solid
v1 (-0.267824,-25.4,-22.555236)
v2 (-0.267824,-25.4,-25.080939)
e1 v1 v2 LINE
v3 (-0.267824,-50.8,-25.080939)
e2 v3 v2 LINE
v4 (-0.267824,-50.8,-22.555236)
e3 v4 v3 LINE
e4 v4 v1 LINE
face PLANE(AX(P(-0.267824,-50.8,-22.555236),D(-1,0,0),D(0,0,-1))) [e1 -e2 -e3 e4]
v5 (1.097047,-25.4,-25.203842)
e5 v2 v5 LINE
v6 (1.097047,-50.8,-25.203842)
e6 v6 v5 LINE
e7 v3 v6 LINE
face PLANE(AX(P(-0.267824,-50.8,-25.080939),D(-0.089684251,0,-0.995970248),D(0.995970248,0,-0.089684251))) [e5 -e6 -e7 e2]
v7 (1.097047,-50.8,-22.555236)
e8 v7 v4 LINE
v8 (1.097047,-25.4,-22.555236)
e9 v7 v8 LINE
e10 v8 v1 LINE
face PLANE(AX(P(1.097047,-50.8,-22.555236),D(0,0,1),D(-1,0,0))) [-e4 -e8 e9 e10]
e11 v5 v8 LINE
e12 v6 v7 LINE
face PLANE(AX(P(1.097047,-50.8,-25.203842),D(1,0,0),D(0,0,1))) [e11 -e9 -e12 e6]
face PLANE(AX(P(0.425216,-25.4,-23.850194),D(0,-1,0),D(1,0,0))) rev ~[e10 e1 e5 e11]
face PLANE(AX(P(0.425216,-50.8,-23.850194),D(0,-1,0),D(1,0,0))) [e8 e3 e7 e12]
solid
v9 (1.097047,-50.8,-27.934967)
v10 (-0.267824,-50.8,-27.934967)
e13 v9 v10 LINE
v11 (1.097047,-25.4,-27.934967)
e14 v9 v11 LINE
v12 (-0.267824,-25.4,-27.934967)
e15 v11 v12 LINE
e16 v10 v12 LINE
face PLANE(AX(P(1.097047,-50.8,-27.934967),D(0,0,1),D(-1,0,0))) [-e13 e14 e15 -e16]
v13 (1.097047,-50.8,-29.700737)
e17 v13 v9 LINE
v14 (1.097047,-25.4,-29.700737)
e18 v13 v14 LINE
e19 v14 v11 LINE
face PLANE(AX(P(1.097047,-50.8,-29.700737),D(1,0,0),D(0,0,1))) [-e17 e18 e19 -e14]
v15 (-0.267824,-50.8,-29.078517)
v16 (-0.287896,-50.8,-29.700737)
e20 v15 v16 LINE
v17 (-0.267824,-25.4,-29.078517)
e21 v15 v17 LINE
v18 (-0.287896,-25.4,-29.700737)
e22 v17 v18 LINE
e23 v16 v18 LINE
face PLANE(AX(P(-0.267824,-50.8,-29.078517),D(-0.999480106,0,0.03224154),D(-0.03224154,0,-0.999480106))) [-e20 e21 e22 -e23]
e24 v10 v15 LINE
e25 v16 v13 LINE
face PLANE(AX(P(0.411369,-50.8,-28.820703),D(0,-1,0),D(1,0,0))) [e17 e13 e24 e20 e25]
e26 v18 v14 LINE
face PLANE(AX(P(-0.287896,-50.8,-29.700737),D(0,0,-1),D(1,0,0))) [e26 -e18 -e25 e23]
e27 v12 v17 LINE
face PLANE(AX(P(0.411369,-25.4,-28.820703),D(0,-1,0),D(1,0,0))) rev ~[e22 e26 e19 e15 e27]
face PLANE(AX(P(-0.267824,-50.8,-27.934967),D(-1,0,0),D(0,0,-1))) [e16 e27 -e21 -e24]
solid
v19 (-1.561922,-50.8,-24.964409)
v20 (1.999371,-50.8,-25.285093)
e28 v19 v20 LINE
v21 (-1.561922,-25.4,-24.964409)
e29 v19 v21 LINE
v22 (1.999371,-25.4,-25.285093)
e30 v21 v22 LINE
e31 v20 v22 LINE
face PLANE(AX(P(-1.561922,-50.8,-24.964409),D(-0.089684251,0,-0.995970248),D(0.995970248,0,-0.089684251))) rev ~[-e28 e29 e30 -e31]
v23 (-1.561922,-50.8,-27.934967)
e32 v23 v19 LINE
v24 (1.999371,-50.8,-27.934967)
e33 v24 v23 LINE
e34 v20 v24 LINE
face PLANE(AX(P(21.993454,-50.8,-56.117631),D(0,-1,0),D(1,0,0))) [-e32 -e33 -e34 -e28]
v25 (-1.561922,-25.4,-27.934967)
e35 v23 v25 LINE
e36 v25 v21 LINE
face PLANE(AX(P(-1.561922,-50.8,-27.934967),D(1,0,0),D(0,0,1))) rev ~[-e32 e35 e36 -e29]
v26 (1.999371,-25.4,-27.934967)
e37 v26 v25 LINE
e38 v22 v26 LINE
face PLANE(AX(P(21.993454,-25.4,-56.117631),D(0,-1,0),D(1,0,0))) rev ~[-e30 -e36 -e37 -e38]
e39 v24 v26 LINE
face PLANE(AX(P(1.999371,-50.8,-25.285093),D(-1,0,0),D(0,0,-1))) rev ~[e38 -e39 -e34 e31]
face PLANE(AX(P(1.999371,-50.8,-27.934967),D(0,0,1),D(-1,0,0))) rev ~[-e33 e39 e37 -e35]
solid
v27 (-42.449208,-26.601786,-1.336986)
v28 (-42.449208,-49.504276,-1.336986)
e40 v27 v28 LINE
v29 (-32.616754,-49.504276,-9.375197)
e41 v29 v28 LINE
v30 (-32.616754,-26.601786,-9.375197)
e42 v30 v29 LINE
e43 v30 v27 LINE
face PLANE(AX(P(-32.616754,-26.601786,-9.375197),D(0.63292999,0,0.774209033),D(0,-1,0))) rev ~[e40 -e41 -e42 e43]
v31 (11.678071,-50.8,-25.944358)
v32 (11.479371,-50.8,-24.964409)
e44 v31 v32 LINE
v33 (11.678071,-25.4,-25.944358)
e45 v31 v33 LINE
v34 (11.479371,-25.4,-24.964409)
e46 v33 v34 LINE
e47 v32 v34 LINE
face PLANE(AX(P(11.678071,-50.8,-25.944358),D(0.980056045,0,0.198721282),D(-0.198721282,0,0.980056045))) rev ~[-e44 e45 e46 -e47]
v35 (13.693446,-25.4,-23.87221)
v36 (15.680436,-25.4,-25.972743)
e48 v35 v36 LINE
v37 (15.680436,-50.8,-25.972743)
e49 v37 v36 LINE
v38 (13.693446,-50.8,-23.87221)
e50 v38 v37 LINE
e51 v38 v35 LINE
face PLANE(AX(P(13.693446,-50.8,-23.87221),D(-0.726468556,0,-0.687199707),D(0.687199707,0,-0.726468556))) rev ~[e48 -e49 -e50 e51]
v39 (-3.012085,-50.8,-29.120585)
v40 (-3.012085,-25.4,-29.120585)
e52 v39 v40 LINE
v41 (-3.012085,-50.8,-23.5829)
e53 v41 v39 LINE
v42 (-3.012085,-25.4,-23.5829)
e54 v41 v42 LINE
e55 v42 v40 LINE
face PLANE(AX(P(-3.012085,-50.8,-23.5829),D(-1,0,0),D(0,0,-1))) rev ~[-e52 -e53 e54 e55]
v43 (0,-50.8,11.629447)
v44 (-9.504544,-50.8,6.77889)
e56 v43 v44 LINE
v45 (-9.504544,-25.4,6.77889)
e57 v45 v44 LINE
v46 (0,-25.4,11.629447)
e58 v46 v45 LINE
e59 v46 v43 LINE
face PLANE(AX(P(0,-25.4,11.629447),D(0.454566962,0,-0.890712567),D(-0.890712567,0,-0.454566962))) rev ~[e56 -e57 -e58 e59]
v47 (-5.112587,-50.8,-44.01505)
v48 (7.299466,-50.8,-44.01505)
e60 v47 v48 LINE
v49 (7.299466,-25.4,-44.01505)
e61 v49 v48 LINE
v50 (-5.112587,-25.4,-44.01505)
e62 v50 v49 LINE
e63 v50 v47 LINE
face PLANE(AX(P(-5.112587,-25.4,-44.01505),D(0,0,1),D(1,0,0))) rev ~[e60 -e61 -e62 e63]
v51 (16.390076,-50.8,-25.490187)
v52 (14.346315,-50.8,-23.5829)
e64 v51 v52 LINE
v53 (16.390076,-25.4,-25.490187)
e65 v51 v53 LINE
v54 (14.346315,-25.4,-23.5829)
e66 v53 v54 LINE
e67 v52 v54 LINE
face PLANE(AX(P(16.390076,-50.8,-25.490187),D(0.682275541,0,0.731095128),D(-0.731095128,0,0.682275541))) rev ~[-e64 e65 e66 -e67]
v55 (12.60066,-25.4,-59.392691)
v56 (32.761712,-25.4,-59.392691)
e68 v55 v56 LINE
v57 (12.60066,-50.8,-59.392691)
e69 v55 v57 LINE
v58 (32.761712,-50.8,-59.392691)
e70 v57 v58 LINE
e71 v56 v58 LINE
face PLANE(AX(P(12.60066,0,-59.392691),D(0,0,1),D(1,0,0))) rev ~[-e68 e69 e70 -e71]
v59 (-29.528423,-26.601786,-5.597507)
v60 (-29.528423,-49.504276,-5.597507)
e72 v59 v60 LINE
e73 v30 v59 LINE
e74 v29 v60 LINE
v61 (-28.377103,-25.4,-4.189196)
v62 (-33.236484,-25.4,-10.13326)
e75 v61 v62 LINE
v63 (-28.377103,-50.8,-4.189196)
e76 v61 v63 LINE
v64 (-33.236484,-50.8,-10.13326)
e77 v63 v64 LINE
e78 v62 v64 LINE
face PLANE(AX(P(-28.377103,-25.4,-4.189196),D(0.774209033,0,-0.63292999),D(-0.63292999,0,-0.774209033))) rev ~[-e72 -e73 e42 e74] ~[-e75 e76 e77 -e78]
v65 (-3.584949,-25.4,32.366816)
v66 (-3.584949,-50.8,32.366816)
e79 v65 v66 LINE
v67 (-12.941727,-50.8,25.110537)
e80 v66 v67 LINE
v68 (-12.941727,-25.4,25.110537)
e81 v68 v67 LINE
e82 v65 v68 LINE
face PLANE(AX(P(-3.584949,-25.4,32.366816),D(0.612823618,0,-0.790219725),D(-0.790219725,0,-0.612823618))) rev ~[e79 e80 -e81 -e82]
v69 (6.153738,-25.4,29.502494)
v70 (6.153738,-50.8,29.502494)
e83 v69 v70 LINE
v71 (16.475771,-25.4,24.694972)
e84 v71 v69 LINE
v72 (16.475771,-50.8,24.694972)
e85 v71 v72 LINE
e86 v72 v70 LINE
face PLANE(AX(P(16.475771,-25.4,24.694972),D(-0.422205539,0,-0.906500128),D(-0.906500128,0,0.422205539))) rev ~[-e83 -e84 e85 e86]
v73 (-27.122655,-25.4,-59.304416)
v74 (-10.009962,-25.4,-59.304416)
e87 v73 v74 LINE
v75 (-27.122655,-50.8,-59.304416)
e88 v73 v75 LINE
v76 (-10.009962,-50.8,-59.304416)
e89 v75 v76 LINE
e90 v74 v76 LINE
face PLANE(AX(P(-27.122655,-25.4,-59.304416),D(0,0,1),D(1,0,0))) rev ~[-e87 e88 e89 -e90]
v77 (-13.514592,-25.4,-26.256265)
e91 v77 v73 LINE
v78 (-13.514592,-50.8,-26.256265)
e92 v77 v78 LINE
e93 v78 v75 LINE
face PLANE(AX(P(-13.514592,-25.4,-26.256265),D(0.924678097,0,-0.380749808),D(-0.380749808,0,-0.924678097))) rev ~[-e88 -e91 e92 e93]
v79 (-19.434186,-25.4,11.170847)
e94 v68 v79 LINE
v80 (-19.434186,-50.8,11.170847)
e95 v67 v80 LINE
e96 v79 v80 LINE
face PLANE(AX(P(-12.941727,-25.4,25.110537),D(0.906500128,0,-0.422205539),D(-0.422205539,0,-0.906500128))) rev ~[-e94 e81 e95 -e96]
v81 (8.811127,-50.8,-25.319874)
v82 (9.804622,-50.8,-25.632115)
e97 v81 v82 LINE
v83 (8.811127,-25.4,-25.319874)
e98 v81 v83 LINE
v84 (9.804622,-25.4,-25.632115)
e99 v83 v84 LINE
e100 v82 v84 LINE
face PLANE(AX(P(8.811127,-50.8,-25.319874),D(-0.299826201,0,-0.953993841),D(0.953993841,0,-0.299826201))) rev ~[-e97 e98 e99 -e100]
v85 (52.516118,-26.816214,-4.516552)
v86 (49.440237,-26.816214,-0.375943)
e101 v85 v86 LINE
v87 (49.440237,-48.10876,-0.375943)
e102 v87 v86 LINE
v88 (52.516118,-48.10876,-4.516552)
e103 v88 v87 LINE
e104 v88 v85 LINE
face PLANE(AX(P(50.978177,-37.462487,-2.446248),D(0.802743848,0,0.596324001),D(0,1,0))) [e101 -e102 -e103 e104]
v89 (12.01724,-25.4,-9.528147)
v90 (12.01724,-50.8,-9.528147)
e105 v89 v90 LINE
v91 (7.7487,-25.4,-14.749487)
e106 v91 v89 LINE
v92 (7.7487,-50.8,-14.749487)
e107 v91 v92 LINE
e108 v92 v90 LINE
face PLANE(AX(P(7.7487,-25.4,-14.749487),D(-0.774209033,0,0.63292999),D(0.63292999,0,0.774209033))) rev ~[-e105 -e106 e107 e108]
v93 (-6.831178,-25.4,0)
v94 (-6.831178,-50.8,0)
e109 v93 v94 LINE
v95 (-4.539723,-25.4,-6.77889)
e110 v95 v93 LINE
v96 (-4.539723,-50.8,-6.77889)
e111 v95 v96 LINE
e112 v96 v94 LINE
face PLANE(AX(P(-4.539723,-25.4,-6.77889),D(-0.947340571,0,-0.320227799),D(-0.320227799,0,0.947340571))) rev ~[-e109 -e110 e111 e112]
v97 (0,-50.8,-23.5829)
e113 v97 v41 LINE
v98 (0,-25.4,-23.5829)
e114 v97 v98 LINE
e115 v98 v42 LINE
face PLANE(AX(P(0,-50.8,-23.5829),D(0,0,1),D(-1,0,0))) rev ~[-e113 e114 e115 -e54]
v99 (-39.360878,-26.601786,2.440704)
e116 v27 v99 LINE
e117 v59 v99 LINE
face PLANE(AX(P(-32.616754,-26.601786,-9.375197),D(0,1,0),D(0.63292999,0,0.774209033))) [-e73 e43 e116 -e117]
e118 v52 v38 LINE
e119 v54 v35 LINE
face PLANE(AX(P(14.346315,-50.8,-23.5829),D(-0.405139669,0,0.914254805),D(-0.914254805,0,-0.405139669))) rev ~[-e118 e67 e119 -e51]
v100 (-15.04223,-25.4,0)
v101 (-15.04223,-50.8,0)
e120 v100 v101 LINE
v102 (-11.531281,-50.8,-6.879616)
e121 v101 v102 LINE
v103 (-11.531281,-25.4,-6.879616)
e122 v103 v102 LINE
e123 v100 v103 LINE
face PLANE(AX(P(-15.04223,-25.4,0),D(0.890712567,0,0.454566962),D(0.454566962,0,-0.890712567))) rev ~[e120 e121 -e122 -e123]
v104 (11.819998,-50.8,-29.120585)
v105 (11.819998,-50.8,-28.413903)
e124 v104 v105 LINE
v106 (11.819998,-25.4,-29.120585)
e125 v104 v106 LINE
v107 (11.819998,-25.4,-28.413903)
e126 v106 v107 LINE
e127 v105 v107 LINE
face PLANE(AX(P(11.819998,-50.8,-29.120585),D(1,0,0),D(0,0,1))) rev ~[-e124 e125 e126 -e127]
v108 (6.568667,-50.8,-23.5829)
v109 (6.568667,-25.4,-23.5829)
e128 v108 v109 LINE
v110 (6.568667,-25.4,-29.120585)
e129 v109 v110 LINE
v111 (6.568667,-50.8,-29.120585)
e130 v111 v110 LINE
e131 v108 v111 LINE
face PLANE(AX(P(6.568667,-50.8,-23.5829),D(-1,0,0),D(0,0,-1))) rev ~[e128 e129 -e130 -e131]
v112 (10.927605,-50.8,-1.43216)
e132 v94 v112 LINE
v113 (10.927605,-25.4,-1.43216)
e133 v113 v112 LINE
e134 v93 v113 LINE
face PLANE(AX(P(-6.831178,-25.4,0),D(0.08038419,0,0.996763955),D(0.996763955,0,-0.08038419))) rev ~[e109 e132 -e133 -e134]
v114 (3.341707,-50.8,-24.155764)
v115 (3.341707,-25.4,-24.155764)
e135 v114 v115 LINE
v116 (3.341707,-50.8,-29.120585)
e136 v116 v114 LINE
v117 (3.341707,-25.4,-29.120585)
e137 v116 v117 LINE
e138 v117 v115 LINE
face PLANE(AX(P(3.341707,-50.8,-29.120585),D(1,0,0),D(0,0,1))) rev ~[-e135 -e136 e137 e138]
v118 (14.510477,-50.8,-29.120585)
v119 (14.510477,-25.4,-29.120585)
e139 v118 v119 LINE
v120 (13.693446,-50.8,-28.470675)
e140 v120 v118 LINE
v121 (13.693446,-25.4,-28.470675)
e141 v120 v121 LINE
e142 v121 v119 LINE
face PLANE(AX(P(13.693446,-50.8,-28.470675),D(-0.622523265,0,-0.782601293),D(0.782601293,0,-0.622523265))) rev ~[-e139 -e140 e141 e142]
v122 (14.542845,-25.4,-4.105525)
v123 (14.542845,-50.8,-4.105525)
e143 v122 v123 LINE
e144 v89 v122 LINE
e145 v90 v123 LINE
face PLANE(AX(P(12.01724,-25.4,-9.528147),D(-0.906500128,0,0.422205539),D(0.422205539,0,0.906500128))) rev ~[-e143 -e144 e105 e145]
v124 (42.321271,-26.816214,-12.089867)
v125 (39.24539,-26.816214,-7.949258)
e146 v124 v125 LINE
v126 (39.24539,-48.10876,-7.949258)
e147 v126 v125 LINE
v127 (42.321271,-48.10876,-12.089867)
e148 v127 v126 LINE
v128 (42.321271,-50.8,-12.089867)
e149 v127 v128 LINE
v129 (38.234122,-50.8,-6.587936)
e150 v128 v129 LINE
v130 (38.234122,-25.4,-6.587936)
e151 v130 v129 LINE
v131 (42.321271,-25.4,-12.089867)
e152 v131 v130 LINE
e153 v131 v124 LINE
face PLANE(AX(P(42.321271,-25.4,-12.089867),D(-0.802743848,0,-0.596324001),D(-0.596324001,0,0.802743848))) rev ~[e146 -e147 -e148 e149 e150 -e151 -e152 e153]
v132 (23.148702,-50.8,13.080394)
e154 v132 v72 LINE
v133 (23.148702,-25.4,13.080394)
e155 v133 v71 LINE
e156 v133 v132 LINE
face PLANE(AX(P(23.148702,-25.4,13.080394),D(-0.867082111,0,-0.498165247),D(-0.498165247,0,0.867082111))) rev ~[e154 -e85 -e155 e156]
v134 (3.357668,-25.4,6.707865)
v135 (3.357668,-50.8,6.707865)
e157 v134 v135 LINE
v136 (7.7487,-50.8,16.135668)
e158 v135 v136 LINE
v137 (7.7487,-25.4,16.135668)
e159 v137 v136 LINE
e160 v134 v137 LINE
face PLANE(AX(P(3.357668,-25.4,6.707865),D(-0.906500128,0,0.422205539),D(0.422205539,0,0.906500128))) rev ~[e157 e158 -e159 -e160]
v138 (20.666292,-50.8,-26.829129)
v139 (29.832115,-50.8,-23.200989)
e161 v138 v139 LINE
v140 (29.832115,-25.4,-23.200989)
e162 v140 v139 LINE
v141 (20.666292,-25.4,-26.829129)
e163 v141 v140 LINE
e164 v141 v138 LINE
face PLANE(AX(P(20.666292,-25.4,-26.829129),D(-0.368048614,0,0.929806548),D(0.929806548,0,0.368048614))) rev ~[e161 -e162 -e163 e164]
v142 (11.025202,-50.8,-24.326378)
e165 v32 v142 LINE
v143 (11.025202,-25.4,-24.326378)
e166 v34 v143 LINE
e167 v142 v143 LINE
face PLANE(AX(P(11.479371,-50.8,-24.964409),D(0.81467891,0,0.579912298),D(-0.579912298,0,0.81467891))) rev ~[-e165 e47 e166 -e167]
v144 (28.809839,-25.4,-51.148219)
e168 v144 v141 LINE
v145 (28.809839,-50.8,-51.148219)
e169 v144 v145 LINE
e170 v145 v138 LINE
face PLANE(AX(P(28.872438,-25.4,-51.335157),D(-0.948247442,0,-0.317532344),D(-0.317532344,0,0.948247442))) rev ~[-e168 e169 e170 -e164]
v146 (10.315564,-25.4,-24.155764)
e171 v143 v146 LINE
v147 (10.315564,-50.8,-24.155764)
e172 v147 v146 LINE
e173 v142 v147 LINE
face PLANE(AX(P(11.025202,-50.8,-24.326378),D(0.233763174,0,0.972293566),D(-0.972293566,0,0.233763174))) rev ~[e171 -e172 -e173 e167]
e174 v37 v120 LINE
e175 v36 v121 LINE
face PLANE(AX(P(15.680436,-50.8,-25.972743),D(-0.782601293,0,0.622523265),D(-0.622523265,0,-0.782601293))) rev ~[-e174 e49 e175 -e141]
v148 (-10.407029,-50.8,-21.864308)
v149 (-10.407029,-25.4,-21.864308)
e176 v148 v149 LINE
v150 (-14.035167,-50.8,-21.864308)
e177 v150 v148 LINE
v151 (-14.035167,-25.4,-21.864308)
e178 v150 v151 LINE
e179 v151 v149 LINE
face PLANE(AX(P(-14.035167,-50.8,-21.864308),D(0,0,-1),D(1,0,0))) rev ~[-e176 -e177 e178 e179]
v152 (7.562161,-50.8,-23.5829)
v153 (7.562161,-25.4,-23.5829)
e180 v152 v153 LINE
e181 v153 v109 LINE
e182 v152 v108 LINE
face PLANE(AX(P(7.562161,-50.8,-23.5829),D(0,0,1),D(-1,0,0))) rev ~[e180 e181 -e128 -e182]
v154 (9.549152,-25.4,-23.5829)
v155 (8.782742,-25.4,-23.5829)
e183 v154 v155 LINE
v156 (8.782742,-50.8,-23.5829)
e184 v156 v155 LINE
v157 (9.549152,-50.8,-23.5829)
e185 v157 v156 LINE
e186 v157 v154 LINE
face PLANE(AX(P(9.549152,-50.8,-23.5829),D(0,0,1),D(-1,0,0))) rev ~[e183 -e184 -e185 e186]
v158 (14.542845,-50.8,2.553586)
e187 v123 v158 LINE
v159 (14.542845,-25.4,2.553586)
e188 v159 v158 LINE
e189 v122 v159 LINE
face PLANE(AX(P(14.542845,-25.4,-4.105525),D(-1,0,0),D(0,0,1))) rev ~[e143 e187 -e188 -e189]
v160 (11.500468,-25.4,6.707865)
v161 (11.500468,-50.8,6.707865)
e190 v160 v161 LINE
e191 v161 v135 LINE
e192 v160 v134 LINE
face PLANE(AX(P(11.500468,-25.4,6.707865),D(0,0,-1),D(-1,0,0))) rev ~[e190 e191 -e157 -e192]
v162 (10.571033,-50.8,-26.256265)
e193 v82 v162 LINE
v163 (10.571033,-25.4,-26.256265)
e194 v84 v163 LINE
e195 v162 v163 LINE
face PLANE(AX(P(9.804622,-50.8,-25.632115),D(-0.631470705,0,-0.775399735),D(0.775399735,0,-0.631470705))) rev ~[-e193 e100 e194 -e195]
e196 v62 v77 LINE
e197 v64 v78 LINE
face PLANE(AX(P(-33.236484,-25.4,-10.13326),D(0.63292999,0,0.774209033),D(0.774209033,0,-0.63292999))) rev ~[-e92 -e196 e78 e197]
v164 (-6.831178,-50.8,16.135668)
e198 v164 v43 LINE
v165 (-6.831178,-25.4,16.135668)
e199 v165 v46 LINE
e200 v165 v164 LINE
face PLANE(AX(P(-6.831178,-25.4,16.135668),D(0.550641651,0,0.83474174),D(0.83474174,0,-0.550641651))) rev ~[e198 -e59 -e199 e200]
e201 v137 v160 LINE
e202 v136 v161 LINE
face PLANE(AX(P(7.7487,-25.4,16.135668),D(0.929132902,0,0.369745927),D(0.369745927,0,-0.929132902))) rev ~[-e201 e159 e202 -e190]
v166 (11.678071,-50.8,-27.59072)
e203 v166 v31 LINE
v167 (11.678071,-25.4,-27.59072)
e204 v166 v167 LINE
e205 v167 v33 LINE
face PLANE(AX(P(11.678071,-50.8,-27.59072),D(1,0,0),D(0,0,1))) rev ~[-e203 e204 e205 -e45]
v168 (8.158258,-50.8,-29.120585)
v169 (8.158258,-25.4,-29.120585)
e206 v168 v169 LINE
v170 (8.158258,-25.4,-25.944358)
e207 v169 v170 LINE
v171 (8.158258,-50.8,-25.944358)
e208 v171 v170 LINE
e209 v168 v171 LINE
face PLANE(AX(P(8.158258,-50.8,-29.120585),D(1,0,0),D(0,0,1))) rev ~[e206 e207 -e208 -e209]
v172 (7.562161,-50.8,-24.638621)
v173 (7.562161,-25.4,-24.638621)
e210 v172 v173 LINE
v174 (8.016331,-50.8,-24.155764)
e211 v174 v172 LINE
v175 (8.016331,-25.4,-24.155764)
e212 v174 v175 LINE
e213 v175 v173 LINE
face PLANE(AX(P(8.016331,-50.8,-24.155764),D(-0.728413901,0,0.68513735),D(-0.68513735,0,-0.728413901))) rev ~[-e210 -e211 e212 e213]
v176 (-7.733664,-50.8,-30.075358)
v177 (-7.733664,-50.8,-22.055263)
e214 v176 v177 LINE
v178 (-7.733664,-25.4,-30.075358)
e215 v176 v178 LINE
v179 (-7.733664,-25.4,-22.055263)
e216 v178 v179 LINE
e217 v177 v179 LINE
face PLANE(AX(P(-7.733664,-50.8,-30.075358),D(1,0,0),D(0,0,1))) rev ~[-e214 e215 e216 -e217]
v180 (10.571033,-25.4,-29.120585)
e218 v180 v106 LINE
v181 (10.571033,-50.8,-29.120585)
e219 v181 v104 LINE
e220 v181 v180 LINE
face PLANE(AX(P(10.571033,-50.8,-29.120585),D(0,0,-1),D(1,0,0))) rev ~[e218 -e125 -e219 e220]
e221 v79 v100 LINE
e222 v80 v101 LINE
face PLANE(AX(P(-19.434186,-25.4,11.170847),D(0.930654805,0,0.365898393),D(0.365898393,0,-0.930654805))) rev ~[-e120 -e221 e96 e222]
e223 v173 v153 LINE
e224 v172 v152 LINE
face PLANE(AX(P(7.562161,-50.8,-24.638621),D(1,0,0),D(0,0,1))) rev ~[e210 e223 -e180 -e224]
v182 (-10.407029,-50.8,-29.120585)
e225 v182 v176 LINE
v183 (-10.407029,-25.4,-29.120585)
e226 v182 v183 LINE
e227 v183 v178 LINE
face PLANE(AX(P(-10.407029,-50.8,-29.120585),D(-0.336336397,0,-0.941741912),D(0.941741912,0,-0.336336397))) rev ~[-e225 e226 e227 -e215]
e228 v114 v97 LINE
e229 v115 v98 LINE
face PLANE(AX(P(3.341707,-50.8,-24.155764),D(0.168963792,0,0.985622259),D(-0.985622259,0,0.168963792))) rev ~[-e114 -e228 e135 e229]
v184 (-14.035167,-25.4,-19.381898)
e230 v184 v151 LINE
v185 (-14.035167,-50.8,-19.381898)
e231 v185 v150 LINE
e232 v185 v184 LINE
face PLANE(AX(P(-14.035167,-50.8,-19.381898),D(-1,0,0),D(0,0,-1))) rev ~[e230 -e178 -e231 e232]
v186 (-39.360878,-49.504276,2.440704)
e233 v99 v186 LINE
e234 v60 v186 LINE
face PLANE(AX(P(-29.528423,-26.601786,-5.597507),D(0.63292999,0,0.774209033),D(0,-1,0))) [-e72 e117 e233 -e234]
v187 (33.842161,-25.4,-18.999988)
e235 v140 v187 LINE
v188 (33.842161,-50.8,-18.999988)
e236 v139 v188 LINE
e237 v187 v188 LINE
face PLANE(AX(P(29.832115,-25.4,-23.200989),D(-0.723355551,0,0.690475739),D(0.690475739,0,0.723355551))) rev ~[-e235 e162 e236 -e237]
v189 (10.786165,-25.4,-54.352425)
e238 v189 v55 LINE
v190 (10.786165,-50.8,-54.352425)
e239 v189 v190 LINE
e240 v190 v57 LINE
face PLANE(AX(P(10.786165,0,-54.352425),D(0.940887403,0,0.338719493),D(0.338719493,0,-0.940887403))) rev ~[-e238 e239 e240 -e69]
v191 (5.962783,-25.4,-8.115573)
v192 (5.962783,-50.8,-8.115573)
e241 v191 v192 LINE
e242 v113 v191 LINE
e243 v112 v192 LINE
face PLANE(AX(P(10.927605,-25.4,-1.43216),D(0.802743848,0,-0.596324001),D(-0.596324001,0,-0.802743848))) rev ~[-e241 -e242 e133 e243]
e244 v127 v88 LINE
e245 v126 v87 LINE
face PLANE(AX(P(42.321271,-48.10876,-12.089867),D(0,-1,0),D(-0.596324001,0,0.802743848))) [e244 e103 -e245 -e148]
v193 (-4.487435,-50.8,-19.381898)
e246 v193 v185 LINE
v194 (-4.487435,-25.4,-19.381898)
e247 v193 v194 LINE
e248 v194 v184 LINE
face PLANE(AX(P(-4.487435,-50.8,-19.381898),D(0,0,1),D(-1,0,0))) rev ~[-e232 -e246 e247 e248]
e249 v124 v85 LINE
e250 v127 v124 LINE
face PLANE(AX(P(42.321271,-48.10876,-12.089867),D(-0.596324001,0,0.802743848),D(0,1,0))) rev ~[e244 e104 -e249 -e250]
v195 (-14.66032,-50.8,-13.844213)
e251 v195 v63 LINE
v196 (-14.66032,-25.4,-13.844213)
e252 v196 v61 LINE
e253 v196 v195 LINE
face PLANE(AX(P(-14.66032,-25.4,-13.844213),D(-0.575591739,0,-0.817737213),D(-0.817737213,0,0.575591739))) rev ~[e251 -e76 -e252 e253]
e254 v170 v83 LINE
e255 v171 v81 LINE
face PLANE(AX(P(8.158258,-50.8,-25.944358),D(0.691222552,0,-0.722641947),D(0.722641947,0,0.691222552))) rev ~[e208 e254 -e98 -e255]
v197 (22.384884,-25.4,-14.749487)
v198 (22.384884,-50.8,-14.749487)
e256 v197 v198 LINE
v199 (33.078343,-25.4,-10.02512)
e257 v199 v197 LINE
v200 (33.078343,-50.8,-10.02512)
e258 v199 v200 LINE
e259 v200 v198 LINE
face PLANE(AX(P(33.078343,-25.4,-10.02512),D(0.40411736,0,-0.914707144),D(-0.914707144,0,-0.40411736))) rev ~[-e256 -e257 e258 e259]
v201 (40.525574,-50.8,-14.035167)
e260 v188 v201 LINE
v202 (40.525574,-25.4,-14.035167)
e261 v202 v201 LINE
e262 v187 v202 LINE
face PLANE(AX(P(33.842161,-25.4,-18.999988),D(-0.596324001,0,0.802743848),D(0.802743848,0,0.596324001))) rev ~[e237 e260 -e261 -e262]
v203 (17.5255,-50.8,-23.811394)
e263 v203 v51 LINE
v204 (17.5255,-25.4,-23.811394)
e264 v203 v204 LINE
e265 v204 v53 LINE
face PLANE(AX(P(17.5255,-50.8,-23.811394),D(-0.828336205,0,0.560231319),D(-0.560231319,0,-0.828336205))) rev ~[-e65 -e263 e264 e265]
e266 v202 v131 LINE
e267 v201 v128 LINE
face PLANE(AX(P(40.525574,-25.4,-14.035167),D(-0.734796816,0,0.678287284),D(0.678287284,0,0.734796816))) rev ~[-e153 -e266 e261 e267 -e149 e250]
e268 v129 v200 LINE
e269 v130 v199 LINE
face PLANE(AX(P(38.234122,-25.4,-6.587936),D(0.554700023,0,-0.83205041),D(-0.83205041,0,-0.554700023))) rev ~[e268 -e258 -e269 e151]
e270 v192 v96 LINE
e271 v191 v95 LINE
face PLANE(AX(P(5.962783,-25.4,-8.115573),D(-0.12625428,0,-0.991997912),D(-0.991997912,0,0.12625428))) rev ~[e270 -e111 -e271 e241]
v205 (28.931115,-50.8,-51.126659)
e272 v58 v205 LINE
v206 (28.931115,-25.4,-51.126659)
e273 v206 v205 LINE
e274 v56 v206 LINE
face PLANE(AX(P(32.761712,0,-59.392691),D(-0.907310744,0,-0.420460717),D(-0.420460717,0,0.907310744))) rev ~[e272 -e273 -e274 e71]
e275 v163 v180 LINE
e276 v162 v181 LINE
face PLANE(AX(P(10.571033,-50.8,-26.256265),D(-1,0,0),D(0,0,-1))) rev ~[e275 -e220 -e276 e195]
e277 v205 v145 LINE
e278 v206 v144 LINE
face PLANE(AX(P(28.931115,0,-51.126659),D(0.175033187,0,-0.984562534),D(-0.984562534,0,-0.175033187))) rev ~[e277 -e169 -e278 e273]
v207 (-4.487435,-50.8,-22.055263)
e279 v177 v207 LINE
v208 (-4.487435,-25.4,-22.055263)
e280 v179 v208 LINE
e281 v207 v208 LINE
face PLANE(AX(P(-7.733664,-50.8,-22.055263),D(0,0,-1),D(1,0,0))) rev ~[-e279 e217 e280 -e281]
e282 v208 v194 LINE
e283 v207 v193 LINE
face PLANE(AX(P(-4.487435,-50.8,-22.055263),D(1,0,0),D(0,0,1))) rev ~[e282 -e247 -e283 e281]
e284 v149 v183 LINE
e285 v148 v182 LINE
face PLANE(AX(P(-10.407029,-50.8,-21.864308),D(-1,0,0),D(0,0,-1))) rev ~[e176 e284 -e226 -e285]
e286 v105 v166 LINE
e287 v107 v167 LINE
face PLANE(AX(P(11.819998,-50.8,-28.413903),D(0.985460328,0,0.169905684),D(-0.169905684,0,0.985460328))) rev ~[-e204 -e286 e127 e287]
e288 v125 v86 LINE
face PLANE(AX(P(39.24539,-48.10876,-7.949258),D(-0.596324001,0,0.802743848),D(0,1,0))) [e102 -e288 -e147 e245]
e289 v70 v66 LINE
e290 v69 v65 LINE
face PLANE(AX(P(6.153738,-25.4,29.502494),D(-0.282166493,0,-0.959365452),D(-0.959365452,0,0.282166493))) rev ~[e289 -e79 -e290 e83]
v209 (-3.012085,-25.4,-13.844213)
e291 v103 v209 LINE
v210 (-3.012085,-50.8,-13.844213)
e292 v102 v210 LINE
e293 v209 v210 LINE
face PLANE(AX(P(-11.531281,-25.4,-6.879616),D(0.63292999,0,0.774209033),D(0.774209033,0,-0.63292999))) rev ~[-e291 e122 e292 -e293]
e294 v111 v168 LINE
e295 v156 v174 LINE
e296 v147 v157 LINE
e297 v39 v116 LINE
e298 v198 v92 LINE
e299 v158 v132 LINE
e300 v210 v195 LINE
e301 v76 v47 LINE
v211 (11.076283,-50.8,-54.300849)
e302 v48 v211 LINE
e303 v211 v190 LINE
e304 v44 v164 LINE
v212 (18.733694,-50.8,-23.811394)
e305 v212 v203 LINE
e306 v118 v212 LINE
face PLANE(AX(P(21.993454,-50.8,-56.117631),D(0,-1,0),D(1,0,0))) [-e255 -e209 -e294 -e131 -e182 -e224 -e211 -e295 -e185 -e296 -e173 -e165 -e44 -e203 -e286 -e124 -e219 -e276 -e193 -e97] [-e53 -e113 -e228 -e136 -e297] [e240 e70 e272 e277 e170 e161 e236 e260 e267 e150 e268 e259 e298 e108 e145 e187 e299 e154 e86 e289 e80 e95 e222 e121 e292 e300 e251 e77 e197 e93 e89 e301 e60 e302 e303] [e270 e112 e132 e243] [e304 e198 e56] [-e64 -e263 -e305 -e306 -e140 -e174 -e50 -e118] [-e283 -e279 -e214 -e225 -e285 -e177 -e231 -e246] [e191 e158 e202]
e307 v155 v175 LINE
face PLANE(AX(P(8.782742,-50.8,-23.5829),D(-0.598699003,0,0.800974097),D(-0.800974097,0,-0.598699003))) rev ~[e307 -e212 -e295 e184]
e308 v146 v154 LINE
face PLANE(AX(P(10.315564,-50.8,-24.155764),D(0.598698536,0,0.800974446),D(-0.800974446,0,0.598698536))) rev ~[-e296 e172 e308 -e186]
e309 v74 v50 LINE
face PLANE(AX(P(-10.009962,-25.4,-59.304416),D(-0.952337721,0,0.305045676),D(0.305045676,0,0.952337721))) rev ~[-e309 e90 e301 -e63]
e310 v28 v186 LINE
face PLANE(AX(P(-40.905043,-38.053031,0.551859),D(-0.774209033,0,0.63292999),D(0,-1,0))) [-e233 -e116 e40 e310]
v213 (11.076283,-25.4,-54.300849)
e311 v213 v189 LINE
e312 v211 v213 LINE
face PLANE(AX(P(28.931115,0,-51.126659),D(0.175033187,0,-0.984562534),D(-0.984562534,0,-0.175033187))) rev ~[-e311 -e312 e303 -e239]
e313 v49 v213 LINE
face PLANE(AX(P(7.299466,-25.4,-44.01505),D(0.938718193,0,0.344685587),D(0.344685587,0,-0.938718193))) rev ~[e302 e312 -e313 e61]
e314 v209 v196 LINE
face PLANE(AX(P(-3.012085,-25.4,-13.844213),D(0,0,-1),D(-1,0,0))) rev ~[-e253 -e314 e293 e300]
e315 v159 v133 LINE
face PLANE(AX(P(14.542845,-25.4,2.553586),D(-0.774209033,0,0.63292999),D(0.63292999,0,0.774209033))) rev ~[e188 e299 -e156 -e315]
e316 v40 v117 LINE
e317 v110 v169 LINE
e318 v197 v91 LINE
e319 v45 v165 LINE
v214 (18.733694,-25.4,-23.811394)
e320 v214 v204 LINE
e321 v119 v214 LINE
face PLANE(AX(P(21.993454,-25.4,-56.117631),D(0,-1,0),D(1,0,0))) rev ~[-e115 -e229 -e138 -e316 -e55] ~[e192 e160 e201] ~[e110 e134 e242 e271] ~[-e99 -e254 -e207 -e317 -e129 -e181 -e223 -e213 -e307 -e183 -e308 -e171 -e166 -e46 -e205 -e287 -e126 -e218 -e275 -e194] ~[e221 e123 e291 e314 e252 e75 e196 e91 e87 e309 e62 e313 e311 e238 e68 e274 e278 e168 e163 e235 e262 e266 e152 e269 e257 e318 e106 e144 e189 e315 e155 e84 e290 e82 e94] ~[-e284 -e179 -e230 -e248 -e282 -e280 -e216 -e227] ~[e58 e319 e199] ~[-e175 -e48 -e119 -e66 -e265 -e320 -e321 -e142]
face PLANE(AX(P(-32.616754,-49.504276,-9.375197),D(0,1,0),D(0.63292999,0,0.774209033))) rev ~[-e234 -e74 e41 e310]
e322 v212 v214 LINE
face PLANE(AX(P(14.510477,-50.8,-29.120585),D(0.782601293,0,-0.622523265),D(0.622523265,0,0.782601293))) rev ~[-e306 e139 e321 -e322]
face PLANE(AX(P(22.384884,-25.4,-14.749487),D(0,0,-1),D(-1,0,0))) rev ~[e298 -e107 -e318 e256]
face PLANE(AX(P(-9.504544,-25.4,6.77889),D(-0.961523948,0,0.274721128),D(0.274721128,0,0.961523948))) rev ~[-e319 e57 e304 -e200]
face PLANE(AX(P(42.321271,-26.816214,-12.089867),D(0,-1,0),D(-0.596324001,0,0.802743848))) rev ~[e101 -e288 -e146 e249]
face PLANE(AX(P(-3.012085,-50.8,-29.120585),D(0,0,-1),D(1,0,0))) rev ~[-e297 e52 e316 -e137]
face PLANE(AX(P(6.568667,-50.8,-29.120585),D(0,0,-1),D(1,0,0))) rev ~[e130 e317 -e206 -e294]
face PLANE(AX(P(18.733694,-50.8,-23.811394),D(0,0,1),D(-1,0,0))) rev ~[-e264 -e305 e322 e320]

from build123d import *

# Parameters (mm, degrees)
F0_W      = 127
F0_H      = 127
F1_DEPTH  = 25.4
F3_DEPTH  = 25.4
F4_W      = 127
F4_H      = 127
F5_DEPTH  = 25.4
F7_W      = 21.292546764
F7_H      = 5.1580702981
F8_DEPTH  = 12.7
F10_DEPTH = 50.8
F11_DEPTH = 25.4
F13_DEPTH = 25.4
F15_DEPTH = 25.4
F16_W     = 22.9024905711
F16_H     = 4.8794187605
F17_DEPTH = 12.7


with BuildPart() as f1:
    # F0 (on Front) → F1 (new body)
    with BuildSketch(Plane.XZ):
        with Locations((3.4296085835, -4.9572458267)):
            Rectangle(F0_W, F0_H)
    extrude(amount=F1_DEPTH)

    # F2 (on face) → F3 (join)
    with BuildSketch(Plane.XZ.offset(25.4)):
        Polygon((-11.5312809151, -6.8796158486), (-3.0120853335, -13.8442134485), (0, -18.8090335578), (4.6261004172, -18.8090335578), (7.7486997525, -14.7494874672), (12.0172404771, -9.5281472878), (14.5428453358, -4.1055250913), (14.5428453358, 2.5535861486), (23.1487024575, 13.0803938955), (16.4757714356, 24.6949718974), (6.1537381262, 29.5024942607), (-3.5849492997, 32.3668159544), (-12.9417274147, 25.1105371863), (-19.4341856986, 11.1708473414), (-15.0422295555, 0), align=None)
        Polygon((-4.5397225767, -6.778890267), (-6.8311784416, 0), (10.9276045114, -1.4321599156), (5.9627834707, -8.1155728549), align=None, mode=Mode.SUBTRACT)
        Polygon((-9.5045436174, 6.778890267), (-6.8311784416, 16.135668382), (0, 11.629446639), align=None, mode=Mode.SUBTRACT)
        Polygon((3.357668215, 6.7078653751), (7.7486997525, 16.135668382), (11.5004684776, 6.7078653751), align=None, mode=Mode.SUBTRACT)
        Polygon((-13.5145923123, -26.2562651187), (-19.2093339527, -40.0863518289), (25.1056363762, -40.0863518289), (20.6662919372, -26.8291290849), (29.8321153969, -23.2009887695), (33.8421612978, -18.9999882132), (40.5255742371, -14.0351671726), (42.3212711359, -12.0898670095), (38.2341220975, -6.5879356116), (33.0783426762, -10.0251203403), (22.3848838359, -14.7494874672), (7.7486997525, -14.7494874672), (4.6261004172, -18.8090335578), (0, -18.8090335578), (-3.0120853335, -13.8442134485), (-14.6603202447, -13.8442134485), (-28.3771033253, -4.1891960393), (-33.2364836264, -10.1332596549), align=None)
        Polygon((-3.3939946443, -25.8743558079), (1.9527353579, -25.8743558079), (1.7617807025, -32.74872154), (-3.3939946443, -32.74872154), align=None, mode=Mode.SUBTRACT)
        Polygon((1.7617807025, -32.74872154), (1.9527353579, -25.8743558079), (-3.3939946443, -25.8743558079), (-3.3939946443, -32.74872154), align=None)
        Polygon((-19.2093339527, -40.0863518289), (-27.1226547061, -59.304416334), (-10.0099617179, -59.304416334), (-5.112586543, -44.0150499344), (7.2994660586, -44.0150499344), (11.1350120984, -54.4607923407), (28.872437502, -51.3351571972), (25.1056363762, -40.0863518289), align=None)
    extrude(amount=F3_DEPTH)

    # F4 (on face) → F5 (cut)
    with BuildSketch(Plane.XZ.offset(25.4)):
        with Locations((3.4296085835, -4.9572458267)):
            Rectangle(F4_W, F4_H)
    extrude(amount=-F5_DEPTH, mode=Mode.SUBTRACT)

    # F7 (on face) → F8 (join)
    with BuildSketch(Plane(origin=(21.4843651567, 0, 15.9598141164), x_dir=(0, 1, 0), z_dir=(0.802743848, 0, 0.5963240013))):
        with Locations((-37.4624868855, -32.3632209609)):
            Rectangle(F7_W, F7_H)
    extrude(amount=F8_DEPTH)

    # F9 (on Front) → F10 (join)
    with BuildSketch(Plane.XZ):
        Polygon((28.9311148226, -51.1266589165), (10.786164552, -54.3524250388), (12.6006603241, -59.3926906586), (32.7617116272, -59.3926906586), align=None)
    extrude(amount=F10_DEPTH)

    # F11 (cut): a face of the model
    f11_faces = [f1.faces().sort_by_distance(p)[0] for p in [
        (22.0640807885, 0, -56.0179852405),
    ]]
    extrude(f11_faces, amount=-F11_DEPTH, mode=Mode.SUBTRACT)

    # F12 (on face) → F13 (cut)
    with BuildSketch(Plane.XZ.offset(50.8)):
        Polygon((-10.4070287198, -21.8643080443), (-10.4070287198, -29.1205849499), (-7.7336635441, -30.0753582269), (-7.7336635441, -22.0552626997), (-4.4874348678, -22.0552626997), (-4.4874348678, -19.381897524), (-14.0351671726, -19.381897524), (-14.0351671726, -21.8643080443), align=None)
        Polygon((3.3417069353, -24.1557639092), (0, -23.582899943), (-3.0120853335, -23.582899943), (-3.0120853335, -29.1205849499), (3.3417069353, -29.1205849499), align=None)
        Polygon((-1.5619223705, -27.9349666089), (-1.5619223705, -24.964408949), (1.9993705209, -25.2850931138), (1.9993705209, -27.9349666089), align=None, mode=Mode.SUBTRACT)
        Polygon((6.5686665475, -23.582899943), (6.5686665475, -29.1205849499), (8.1582581624, -29.1205849499), (8.1582581624, -25.9443577379), (8.8111273944, -25.3198742867), (9.8046222702, -25.632115081), (10.5710327625, -26.2562651187), (10.5710327625, -29.1205849499), (11.8199978024, -29.1205849499), (11.8199978024, -28.4139029682), (11.6780707613, -27.590719983), (11.6780707613, -25.9443577379), (11.4793712273, -24.964408949), (11.0252024606, -24.3263784796), (10.3155635297, -24.1557639092), (9.549152106, -23.582899943), (8.7827416137, -23.582899943), (8.0163311213, -24.1557639092), (7.5621614233, -24.6386211365), (7.5621614233, -23.582899943), align=None)
        Polygon((14.3463145941, -23.582899943), (13.6934462935, -23.8722097129), (15.6804360449, -25.9727425873), (13.6934462935, -28.4706745297), (14.51047718, -29.1205849499), (18.7336941345, -23.8113937363), (17.5254996866, -23.8113937363), (16.3900759071, -25.4901871085), align=None)
    extrude(amount=-F13_DEPTH, mode=Mode.SUBTRACT)

    # F16 (on face) → F17 (join)
    with BuildSketch(Plane(origin=(-14.9564348332, 0, 12.2271579685), x_dir=(0, -1, 0), z_dir=(-0.7742090335, 0, 0.6329299902))):
        with Locations((38.0530310795, -25.4627745599)):
            Rectangle(F16_W, F16_H)
    extrude(amount=F17_DEPTH)


with BuildPart() as f15:
    # F14 (on face) → F15 (new body)
    with BuildSketch(Plane.XZ.offset(50.8)):
        Polygon((-0.2678239543, -22.5552357733), (-0.2678239543, -25.0809387831), (1.0970472358, -25.2038415016), (1.0970472358, -22.5552357733), align=None)
    extrude(amount=-F15_DEPTH)


with BuildPart() as f15b:
    # F14 (on face) → F15, piece 2 (new body)
    with BuildSketch(Plane.XZ.offset(50.8)):
        Polygon((-0.2678239543, -27.9349666089), (-0.2678239543, -29.0785171092), (-0.2878957312, -29.7007374465), (1.0970472358, -29.7007374465), (1.0970472358, -27.9349666089), align=None)
    extrude(amount=-F15_DEPTH)


solid = Compound([f1.part, f15.part, f15b.part])
